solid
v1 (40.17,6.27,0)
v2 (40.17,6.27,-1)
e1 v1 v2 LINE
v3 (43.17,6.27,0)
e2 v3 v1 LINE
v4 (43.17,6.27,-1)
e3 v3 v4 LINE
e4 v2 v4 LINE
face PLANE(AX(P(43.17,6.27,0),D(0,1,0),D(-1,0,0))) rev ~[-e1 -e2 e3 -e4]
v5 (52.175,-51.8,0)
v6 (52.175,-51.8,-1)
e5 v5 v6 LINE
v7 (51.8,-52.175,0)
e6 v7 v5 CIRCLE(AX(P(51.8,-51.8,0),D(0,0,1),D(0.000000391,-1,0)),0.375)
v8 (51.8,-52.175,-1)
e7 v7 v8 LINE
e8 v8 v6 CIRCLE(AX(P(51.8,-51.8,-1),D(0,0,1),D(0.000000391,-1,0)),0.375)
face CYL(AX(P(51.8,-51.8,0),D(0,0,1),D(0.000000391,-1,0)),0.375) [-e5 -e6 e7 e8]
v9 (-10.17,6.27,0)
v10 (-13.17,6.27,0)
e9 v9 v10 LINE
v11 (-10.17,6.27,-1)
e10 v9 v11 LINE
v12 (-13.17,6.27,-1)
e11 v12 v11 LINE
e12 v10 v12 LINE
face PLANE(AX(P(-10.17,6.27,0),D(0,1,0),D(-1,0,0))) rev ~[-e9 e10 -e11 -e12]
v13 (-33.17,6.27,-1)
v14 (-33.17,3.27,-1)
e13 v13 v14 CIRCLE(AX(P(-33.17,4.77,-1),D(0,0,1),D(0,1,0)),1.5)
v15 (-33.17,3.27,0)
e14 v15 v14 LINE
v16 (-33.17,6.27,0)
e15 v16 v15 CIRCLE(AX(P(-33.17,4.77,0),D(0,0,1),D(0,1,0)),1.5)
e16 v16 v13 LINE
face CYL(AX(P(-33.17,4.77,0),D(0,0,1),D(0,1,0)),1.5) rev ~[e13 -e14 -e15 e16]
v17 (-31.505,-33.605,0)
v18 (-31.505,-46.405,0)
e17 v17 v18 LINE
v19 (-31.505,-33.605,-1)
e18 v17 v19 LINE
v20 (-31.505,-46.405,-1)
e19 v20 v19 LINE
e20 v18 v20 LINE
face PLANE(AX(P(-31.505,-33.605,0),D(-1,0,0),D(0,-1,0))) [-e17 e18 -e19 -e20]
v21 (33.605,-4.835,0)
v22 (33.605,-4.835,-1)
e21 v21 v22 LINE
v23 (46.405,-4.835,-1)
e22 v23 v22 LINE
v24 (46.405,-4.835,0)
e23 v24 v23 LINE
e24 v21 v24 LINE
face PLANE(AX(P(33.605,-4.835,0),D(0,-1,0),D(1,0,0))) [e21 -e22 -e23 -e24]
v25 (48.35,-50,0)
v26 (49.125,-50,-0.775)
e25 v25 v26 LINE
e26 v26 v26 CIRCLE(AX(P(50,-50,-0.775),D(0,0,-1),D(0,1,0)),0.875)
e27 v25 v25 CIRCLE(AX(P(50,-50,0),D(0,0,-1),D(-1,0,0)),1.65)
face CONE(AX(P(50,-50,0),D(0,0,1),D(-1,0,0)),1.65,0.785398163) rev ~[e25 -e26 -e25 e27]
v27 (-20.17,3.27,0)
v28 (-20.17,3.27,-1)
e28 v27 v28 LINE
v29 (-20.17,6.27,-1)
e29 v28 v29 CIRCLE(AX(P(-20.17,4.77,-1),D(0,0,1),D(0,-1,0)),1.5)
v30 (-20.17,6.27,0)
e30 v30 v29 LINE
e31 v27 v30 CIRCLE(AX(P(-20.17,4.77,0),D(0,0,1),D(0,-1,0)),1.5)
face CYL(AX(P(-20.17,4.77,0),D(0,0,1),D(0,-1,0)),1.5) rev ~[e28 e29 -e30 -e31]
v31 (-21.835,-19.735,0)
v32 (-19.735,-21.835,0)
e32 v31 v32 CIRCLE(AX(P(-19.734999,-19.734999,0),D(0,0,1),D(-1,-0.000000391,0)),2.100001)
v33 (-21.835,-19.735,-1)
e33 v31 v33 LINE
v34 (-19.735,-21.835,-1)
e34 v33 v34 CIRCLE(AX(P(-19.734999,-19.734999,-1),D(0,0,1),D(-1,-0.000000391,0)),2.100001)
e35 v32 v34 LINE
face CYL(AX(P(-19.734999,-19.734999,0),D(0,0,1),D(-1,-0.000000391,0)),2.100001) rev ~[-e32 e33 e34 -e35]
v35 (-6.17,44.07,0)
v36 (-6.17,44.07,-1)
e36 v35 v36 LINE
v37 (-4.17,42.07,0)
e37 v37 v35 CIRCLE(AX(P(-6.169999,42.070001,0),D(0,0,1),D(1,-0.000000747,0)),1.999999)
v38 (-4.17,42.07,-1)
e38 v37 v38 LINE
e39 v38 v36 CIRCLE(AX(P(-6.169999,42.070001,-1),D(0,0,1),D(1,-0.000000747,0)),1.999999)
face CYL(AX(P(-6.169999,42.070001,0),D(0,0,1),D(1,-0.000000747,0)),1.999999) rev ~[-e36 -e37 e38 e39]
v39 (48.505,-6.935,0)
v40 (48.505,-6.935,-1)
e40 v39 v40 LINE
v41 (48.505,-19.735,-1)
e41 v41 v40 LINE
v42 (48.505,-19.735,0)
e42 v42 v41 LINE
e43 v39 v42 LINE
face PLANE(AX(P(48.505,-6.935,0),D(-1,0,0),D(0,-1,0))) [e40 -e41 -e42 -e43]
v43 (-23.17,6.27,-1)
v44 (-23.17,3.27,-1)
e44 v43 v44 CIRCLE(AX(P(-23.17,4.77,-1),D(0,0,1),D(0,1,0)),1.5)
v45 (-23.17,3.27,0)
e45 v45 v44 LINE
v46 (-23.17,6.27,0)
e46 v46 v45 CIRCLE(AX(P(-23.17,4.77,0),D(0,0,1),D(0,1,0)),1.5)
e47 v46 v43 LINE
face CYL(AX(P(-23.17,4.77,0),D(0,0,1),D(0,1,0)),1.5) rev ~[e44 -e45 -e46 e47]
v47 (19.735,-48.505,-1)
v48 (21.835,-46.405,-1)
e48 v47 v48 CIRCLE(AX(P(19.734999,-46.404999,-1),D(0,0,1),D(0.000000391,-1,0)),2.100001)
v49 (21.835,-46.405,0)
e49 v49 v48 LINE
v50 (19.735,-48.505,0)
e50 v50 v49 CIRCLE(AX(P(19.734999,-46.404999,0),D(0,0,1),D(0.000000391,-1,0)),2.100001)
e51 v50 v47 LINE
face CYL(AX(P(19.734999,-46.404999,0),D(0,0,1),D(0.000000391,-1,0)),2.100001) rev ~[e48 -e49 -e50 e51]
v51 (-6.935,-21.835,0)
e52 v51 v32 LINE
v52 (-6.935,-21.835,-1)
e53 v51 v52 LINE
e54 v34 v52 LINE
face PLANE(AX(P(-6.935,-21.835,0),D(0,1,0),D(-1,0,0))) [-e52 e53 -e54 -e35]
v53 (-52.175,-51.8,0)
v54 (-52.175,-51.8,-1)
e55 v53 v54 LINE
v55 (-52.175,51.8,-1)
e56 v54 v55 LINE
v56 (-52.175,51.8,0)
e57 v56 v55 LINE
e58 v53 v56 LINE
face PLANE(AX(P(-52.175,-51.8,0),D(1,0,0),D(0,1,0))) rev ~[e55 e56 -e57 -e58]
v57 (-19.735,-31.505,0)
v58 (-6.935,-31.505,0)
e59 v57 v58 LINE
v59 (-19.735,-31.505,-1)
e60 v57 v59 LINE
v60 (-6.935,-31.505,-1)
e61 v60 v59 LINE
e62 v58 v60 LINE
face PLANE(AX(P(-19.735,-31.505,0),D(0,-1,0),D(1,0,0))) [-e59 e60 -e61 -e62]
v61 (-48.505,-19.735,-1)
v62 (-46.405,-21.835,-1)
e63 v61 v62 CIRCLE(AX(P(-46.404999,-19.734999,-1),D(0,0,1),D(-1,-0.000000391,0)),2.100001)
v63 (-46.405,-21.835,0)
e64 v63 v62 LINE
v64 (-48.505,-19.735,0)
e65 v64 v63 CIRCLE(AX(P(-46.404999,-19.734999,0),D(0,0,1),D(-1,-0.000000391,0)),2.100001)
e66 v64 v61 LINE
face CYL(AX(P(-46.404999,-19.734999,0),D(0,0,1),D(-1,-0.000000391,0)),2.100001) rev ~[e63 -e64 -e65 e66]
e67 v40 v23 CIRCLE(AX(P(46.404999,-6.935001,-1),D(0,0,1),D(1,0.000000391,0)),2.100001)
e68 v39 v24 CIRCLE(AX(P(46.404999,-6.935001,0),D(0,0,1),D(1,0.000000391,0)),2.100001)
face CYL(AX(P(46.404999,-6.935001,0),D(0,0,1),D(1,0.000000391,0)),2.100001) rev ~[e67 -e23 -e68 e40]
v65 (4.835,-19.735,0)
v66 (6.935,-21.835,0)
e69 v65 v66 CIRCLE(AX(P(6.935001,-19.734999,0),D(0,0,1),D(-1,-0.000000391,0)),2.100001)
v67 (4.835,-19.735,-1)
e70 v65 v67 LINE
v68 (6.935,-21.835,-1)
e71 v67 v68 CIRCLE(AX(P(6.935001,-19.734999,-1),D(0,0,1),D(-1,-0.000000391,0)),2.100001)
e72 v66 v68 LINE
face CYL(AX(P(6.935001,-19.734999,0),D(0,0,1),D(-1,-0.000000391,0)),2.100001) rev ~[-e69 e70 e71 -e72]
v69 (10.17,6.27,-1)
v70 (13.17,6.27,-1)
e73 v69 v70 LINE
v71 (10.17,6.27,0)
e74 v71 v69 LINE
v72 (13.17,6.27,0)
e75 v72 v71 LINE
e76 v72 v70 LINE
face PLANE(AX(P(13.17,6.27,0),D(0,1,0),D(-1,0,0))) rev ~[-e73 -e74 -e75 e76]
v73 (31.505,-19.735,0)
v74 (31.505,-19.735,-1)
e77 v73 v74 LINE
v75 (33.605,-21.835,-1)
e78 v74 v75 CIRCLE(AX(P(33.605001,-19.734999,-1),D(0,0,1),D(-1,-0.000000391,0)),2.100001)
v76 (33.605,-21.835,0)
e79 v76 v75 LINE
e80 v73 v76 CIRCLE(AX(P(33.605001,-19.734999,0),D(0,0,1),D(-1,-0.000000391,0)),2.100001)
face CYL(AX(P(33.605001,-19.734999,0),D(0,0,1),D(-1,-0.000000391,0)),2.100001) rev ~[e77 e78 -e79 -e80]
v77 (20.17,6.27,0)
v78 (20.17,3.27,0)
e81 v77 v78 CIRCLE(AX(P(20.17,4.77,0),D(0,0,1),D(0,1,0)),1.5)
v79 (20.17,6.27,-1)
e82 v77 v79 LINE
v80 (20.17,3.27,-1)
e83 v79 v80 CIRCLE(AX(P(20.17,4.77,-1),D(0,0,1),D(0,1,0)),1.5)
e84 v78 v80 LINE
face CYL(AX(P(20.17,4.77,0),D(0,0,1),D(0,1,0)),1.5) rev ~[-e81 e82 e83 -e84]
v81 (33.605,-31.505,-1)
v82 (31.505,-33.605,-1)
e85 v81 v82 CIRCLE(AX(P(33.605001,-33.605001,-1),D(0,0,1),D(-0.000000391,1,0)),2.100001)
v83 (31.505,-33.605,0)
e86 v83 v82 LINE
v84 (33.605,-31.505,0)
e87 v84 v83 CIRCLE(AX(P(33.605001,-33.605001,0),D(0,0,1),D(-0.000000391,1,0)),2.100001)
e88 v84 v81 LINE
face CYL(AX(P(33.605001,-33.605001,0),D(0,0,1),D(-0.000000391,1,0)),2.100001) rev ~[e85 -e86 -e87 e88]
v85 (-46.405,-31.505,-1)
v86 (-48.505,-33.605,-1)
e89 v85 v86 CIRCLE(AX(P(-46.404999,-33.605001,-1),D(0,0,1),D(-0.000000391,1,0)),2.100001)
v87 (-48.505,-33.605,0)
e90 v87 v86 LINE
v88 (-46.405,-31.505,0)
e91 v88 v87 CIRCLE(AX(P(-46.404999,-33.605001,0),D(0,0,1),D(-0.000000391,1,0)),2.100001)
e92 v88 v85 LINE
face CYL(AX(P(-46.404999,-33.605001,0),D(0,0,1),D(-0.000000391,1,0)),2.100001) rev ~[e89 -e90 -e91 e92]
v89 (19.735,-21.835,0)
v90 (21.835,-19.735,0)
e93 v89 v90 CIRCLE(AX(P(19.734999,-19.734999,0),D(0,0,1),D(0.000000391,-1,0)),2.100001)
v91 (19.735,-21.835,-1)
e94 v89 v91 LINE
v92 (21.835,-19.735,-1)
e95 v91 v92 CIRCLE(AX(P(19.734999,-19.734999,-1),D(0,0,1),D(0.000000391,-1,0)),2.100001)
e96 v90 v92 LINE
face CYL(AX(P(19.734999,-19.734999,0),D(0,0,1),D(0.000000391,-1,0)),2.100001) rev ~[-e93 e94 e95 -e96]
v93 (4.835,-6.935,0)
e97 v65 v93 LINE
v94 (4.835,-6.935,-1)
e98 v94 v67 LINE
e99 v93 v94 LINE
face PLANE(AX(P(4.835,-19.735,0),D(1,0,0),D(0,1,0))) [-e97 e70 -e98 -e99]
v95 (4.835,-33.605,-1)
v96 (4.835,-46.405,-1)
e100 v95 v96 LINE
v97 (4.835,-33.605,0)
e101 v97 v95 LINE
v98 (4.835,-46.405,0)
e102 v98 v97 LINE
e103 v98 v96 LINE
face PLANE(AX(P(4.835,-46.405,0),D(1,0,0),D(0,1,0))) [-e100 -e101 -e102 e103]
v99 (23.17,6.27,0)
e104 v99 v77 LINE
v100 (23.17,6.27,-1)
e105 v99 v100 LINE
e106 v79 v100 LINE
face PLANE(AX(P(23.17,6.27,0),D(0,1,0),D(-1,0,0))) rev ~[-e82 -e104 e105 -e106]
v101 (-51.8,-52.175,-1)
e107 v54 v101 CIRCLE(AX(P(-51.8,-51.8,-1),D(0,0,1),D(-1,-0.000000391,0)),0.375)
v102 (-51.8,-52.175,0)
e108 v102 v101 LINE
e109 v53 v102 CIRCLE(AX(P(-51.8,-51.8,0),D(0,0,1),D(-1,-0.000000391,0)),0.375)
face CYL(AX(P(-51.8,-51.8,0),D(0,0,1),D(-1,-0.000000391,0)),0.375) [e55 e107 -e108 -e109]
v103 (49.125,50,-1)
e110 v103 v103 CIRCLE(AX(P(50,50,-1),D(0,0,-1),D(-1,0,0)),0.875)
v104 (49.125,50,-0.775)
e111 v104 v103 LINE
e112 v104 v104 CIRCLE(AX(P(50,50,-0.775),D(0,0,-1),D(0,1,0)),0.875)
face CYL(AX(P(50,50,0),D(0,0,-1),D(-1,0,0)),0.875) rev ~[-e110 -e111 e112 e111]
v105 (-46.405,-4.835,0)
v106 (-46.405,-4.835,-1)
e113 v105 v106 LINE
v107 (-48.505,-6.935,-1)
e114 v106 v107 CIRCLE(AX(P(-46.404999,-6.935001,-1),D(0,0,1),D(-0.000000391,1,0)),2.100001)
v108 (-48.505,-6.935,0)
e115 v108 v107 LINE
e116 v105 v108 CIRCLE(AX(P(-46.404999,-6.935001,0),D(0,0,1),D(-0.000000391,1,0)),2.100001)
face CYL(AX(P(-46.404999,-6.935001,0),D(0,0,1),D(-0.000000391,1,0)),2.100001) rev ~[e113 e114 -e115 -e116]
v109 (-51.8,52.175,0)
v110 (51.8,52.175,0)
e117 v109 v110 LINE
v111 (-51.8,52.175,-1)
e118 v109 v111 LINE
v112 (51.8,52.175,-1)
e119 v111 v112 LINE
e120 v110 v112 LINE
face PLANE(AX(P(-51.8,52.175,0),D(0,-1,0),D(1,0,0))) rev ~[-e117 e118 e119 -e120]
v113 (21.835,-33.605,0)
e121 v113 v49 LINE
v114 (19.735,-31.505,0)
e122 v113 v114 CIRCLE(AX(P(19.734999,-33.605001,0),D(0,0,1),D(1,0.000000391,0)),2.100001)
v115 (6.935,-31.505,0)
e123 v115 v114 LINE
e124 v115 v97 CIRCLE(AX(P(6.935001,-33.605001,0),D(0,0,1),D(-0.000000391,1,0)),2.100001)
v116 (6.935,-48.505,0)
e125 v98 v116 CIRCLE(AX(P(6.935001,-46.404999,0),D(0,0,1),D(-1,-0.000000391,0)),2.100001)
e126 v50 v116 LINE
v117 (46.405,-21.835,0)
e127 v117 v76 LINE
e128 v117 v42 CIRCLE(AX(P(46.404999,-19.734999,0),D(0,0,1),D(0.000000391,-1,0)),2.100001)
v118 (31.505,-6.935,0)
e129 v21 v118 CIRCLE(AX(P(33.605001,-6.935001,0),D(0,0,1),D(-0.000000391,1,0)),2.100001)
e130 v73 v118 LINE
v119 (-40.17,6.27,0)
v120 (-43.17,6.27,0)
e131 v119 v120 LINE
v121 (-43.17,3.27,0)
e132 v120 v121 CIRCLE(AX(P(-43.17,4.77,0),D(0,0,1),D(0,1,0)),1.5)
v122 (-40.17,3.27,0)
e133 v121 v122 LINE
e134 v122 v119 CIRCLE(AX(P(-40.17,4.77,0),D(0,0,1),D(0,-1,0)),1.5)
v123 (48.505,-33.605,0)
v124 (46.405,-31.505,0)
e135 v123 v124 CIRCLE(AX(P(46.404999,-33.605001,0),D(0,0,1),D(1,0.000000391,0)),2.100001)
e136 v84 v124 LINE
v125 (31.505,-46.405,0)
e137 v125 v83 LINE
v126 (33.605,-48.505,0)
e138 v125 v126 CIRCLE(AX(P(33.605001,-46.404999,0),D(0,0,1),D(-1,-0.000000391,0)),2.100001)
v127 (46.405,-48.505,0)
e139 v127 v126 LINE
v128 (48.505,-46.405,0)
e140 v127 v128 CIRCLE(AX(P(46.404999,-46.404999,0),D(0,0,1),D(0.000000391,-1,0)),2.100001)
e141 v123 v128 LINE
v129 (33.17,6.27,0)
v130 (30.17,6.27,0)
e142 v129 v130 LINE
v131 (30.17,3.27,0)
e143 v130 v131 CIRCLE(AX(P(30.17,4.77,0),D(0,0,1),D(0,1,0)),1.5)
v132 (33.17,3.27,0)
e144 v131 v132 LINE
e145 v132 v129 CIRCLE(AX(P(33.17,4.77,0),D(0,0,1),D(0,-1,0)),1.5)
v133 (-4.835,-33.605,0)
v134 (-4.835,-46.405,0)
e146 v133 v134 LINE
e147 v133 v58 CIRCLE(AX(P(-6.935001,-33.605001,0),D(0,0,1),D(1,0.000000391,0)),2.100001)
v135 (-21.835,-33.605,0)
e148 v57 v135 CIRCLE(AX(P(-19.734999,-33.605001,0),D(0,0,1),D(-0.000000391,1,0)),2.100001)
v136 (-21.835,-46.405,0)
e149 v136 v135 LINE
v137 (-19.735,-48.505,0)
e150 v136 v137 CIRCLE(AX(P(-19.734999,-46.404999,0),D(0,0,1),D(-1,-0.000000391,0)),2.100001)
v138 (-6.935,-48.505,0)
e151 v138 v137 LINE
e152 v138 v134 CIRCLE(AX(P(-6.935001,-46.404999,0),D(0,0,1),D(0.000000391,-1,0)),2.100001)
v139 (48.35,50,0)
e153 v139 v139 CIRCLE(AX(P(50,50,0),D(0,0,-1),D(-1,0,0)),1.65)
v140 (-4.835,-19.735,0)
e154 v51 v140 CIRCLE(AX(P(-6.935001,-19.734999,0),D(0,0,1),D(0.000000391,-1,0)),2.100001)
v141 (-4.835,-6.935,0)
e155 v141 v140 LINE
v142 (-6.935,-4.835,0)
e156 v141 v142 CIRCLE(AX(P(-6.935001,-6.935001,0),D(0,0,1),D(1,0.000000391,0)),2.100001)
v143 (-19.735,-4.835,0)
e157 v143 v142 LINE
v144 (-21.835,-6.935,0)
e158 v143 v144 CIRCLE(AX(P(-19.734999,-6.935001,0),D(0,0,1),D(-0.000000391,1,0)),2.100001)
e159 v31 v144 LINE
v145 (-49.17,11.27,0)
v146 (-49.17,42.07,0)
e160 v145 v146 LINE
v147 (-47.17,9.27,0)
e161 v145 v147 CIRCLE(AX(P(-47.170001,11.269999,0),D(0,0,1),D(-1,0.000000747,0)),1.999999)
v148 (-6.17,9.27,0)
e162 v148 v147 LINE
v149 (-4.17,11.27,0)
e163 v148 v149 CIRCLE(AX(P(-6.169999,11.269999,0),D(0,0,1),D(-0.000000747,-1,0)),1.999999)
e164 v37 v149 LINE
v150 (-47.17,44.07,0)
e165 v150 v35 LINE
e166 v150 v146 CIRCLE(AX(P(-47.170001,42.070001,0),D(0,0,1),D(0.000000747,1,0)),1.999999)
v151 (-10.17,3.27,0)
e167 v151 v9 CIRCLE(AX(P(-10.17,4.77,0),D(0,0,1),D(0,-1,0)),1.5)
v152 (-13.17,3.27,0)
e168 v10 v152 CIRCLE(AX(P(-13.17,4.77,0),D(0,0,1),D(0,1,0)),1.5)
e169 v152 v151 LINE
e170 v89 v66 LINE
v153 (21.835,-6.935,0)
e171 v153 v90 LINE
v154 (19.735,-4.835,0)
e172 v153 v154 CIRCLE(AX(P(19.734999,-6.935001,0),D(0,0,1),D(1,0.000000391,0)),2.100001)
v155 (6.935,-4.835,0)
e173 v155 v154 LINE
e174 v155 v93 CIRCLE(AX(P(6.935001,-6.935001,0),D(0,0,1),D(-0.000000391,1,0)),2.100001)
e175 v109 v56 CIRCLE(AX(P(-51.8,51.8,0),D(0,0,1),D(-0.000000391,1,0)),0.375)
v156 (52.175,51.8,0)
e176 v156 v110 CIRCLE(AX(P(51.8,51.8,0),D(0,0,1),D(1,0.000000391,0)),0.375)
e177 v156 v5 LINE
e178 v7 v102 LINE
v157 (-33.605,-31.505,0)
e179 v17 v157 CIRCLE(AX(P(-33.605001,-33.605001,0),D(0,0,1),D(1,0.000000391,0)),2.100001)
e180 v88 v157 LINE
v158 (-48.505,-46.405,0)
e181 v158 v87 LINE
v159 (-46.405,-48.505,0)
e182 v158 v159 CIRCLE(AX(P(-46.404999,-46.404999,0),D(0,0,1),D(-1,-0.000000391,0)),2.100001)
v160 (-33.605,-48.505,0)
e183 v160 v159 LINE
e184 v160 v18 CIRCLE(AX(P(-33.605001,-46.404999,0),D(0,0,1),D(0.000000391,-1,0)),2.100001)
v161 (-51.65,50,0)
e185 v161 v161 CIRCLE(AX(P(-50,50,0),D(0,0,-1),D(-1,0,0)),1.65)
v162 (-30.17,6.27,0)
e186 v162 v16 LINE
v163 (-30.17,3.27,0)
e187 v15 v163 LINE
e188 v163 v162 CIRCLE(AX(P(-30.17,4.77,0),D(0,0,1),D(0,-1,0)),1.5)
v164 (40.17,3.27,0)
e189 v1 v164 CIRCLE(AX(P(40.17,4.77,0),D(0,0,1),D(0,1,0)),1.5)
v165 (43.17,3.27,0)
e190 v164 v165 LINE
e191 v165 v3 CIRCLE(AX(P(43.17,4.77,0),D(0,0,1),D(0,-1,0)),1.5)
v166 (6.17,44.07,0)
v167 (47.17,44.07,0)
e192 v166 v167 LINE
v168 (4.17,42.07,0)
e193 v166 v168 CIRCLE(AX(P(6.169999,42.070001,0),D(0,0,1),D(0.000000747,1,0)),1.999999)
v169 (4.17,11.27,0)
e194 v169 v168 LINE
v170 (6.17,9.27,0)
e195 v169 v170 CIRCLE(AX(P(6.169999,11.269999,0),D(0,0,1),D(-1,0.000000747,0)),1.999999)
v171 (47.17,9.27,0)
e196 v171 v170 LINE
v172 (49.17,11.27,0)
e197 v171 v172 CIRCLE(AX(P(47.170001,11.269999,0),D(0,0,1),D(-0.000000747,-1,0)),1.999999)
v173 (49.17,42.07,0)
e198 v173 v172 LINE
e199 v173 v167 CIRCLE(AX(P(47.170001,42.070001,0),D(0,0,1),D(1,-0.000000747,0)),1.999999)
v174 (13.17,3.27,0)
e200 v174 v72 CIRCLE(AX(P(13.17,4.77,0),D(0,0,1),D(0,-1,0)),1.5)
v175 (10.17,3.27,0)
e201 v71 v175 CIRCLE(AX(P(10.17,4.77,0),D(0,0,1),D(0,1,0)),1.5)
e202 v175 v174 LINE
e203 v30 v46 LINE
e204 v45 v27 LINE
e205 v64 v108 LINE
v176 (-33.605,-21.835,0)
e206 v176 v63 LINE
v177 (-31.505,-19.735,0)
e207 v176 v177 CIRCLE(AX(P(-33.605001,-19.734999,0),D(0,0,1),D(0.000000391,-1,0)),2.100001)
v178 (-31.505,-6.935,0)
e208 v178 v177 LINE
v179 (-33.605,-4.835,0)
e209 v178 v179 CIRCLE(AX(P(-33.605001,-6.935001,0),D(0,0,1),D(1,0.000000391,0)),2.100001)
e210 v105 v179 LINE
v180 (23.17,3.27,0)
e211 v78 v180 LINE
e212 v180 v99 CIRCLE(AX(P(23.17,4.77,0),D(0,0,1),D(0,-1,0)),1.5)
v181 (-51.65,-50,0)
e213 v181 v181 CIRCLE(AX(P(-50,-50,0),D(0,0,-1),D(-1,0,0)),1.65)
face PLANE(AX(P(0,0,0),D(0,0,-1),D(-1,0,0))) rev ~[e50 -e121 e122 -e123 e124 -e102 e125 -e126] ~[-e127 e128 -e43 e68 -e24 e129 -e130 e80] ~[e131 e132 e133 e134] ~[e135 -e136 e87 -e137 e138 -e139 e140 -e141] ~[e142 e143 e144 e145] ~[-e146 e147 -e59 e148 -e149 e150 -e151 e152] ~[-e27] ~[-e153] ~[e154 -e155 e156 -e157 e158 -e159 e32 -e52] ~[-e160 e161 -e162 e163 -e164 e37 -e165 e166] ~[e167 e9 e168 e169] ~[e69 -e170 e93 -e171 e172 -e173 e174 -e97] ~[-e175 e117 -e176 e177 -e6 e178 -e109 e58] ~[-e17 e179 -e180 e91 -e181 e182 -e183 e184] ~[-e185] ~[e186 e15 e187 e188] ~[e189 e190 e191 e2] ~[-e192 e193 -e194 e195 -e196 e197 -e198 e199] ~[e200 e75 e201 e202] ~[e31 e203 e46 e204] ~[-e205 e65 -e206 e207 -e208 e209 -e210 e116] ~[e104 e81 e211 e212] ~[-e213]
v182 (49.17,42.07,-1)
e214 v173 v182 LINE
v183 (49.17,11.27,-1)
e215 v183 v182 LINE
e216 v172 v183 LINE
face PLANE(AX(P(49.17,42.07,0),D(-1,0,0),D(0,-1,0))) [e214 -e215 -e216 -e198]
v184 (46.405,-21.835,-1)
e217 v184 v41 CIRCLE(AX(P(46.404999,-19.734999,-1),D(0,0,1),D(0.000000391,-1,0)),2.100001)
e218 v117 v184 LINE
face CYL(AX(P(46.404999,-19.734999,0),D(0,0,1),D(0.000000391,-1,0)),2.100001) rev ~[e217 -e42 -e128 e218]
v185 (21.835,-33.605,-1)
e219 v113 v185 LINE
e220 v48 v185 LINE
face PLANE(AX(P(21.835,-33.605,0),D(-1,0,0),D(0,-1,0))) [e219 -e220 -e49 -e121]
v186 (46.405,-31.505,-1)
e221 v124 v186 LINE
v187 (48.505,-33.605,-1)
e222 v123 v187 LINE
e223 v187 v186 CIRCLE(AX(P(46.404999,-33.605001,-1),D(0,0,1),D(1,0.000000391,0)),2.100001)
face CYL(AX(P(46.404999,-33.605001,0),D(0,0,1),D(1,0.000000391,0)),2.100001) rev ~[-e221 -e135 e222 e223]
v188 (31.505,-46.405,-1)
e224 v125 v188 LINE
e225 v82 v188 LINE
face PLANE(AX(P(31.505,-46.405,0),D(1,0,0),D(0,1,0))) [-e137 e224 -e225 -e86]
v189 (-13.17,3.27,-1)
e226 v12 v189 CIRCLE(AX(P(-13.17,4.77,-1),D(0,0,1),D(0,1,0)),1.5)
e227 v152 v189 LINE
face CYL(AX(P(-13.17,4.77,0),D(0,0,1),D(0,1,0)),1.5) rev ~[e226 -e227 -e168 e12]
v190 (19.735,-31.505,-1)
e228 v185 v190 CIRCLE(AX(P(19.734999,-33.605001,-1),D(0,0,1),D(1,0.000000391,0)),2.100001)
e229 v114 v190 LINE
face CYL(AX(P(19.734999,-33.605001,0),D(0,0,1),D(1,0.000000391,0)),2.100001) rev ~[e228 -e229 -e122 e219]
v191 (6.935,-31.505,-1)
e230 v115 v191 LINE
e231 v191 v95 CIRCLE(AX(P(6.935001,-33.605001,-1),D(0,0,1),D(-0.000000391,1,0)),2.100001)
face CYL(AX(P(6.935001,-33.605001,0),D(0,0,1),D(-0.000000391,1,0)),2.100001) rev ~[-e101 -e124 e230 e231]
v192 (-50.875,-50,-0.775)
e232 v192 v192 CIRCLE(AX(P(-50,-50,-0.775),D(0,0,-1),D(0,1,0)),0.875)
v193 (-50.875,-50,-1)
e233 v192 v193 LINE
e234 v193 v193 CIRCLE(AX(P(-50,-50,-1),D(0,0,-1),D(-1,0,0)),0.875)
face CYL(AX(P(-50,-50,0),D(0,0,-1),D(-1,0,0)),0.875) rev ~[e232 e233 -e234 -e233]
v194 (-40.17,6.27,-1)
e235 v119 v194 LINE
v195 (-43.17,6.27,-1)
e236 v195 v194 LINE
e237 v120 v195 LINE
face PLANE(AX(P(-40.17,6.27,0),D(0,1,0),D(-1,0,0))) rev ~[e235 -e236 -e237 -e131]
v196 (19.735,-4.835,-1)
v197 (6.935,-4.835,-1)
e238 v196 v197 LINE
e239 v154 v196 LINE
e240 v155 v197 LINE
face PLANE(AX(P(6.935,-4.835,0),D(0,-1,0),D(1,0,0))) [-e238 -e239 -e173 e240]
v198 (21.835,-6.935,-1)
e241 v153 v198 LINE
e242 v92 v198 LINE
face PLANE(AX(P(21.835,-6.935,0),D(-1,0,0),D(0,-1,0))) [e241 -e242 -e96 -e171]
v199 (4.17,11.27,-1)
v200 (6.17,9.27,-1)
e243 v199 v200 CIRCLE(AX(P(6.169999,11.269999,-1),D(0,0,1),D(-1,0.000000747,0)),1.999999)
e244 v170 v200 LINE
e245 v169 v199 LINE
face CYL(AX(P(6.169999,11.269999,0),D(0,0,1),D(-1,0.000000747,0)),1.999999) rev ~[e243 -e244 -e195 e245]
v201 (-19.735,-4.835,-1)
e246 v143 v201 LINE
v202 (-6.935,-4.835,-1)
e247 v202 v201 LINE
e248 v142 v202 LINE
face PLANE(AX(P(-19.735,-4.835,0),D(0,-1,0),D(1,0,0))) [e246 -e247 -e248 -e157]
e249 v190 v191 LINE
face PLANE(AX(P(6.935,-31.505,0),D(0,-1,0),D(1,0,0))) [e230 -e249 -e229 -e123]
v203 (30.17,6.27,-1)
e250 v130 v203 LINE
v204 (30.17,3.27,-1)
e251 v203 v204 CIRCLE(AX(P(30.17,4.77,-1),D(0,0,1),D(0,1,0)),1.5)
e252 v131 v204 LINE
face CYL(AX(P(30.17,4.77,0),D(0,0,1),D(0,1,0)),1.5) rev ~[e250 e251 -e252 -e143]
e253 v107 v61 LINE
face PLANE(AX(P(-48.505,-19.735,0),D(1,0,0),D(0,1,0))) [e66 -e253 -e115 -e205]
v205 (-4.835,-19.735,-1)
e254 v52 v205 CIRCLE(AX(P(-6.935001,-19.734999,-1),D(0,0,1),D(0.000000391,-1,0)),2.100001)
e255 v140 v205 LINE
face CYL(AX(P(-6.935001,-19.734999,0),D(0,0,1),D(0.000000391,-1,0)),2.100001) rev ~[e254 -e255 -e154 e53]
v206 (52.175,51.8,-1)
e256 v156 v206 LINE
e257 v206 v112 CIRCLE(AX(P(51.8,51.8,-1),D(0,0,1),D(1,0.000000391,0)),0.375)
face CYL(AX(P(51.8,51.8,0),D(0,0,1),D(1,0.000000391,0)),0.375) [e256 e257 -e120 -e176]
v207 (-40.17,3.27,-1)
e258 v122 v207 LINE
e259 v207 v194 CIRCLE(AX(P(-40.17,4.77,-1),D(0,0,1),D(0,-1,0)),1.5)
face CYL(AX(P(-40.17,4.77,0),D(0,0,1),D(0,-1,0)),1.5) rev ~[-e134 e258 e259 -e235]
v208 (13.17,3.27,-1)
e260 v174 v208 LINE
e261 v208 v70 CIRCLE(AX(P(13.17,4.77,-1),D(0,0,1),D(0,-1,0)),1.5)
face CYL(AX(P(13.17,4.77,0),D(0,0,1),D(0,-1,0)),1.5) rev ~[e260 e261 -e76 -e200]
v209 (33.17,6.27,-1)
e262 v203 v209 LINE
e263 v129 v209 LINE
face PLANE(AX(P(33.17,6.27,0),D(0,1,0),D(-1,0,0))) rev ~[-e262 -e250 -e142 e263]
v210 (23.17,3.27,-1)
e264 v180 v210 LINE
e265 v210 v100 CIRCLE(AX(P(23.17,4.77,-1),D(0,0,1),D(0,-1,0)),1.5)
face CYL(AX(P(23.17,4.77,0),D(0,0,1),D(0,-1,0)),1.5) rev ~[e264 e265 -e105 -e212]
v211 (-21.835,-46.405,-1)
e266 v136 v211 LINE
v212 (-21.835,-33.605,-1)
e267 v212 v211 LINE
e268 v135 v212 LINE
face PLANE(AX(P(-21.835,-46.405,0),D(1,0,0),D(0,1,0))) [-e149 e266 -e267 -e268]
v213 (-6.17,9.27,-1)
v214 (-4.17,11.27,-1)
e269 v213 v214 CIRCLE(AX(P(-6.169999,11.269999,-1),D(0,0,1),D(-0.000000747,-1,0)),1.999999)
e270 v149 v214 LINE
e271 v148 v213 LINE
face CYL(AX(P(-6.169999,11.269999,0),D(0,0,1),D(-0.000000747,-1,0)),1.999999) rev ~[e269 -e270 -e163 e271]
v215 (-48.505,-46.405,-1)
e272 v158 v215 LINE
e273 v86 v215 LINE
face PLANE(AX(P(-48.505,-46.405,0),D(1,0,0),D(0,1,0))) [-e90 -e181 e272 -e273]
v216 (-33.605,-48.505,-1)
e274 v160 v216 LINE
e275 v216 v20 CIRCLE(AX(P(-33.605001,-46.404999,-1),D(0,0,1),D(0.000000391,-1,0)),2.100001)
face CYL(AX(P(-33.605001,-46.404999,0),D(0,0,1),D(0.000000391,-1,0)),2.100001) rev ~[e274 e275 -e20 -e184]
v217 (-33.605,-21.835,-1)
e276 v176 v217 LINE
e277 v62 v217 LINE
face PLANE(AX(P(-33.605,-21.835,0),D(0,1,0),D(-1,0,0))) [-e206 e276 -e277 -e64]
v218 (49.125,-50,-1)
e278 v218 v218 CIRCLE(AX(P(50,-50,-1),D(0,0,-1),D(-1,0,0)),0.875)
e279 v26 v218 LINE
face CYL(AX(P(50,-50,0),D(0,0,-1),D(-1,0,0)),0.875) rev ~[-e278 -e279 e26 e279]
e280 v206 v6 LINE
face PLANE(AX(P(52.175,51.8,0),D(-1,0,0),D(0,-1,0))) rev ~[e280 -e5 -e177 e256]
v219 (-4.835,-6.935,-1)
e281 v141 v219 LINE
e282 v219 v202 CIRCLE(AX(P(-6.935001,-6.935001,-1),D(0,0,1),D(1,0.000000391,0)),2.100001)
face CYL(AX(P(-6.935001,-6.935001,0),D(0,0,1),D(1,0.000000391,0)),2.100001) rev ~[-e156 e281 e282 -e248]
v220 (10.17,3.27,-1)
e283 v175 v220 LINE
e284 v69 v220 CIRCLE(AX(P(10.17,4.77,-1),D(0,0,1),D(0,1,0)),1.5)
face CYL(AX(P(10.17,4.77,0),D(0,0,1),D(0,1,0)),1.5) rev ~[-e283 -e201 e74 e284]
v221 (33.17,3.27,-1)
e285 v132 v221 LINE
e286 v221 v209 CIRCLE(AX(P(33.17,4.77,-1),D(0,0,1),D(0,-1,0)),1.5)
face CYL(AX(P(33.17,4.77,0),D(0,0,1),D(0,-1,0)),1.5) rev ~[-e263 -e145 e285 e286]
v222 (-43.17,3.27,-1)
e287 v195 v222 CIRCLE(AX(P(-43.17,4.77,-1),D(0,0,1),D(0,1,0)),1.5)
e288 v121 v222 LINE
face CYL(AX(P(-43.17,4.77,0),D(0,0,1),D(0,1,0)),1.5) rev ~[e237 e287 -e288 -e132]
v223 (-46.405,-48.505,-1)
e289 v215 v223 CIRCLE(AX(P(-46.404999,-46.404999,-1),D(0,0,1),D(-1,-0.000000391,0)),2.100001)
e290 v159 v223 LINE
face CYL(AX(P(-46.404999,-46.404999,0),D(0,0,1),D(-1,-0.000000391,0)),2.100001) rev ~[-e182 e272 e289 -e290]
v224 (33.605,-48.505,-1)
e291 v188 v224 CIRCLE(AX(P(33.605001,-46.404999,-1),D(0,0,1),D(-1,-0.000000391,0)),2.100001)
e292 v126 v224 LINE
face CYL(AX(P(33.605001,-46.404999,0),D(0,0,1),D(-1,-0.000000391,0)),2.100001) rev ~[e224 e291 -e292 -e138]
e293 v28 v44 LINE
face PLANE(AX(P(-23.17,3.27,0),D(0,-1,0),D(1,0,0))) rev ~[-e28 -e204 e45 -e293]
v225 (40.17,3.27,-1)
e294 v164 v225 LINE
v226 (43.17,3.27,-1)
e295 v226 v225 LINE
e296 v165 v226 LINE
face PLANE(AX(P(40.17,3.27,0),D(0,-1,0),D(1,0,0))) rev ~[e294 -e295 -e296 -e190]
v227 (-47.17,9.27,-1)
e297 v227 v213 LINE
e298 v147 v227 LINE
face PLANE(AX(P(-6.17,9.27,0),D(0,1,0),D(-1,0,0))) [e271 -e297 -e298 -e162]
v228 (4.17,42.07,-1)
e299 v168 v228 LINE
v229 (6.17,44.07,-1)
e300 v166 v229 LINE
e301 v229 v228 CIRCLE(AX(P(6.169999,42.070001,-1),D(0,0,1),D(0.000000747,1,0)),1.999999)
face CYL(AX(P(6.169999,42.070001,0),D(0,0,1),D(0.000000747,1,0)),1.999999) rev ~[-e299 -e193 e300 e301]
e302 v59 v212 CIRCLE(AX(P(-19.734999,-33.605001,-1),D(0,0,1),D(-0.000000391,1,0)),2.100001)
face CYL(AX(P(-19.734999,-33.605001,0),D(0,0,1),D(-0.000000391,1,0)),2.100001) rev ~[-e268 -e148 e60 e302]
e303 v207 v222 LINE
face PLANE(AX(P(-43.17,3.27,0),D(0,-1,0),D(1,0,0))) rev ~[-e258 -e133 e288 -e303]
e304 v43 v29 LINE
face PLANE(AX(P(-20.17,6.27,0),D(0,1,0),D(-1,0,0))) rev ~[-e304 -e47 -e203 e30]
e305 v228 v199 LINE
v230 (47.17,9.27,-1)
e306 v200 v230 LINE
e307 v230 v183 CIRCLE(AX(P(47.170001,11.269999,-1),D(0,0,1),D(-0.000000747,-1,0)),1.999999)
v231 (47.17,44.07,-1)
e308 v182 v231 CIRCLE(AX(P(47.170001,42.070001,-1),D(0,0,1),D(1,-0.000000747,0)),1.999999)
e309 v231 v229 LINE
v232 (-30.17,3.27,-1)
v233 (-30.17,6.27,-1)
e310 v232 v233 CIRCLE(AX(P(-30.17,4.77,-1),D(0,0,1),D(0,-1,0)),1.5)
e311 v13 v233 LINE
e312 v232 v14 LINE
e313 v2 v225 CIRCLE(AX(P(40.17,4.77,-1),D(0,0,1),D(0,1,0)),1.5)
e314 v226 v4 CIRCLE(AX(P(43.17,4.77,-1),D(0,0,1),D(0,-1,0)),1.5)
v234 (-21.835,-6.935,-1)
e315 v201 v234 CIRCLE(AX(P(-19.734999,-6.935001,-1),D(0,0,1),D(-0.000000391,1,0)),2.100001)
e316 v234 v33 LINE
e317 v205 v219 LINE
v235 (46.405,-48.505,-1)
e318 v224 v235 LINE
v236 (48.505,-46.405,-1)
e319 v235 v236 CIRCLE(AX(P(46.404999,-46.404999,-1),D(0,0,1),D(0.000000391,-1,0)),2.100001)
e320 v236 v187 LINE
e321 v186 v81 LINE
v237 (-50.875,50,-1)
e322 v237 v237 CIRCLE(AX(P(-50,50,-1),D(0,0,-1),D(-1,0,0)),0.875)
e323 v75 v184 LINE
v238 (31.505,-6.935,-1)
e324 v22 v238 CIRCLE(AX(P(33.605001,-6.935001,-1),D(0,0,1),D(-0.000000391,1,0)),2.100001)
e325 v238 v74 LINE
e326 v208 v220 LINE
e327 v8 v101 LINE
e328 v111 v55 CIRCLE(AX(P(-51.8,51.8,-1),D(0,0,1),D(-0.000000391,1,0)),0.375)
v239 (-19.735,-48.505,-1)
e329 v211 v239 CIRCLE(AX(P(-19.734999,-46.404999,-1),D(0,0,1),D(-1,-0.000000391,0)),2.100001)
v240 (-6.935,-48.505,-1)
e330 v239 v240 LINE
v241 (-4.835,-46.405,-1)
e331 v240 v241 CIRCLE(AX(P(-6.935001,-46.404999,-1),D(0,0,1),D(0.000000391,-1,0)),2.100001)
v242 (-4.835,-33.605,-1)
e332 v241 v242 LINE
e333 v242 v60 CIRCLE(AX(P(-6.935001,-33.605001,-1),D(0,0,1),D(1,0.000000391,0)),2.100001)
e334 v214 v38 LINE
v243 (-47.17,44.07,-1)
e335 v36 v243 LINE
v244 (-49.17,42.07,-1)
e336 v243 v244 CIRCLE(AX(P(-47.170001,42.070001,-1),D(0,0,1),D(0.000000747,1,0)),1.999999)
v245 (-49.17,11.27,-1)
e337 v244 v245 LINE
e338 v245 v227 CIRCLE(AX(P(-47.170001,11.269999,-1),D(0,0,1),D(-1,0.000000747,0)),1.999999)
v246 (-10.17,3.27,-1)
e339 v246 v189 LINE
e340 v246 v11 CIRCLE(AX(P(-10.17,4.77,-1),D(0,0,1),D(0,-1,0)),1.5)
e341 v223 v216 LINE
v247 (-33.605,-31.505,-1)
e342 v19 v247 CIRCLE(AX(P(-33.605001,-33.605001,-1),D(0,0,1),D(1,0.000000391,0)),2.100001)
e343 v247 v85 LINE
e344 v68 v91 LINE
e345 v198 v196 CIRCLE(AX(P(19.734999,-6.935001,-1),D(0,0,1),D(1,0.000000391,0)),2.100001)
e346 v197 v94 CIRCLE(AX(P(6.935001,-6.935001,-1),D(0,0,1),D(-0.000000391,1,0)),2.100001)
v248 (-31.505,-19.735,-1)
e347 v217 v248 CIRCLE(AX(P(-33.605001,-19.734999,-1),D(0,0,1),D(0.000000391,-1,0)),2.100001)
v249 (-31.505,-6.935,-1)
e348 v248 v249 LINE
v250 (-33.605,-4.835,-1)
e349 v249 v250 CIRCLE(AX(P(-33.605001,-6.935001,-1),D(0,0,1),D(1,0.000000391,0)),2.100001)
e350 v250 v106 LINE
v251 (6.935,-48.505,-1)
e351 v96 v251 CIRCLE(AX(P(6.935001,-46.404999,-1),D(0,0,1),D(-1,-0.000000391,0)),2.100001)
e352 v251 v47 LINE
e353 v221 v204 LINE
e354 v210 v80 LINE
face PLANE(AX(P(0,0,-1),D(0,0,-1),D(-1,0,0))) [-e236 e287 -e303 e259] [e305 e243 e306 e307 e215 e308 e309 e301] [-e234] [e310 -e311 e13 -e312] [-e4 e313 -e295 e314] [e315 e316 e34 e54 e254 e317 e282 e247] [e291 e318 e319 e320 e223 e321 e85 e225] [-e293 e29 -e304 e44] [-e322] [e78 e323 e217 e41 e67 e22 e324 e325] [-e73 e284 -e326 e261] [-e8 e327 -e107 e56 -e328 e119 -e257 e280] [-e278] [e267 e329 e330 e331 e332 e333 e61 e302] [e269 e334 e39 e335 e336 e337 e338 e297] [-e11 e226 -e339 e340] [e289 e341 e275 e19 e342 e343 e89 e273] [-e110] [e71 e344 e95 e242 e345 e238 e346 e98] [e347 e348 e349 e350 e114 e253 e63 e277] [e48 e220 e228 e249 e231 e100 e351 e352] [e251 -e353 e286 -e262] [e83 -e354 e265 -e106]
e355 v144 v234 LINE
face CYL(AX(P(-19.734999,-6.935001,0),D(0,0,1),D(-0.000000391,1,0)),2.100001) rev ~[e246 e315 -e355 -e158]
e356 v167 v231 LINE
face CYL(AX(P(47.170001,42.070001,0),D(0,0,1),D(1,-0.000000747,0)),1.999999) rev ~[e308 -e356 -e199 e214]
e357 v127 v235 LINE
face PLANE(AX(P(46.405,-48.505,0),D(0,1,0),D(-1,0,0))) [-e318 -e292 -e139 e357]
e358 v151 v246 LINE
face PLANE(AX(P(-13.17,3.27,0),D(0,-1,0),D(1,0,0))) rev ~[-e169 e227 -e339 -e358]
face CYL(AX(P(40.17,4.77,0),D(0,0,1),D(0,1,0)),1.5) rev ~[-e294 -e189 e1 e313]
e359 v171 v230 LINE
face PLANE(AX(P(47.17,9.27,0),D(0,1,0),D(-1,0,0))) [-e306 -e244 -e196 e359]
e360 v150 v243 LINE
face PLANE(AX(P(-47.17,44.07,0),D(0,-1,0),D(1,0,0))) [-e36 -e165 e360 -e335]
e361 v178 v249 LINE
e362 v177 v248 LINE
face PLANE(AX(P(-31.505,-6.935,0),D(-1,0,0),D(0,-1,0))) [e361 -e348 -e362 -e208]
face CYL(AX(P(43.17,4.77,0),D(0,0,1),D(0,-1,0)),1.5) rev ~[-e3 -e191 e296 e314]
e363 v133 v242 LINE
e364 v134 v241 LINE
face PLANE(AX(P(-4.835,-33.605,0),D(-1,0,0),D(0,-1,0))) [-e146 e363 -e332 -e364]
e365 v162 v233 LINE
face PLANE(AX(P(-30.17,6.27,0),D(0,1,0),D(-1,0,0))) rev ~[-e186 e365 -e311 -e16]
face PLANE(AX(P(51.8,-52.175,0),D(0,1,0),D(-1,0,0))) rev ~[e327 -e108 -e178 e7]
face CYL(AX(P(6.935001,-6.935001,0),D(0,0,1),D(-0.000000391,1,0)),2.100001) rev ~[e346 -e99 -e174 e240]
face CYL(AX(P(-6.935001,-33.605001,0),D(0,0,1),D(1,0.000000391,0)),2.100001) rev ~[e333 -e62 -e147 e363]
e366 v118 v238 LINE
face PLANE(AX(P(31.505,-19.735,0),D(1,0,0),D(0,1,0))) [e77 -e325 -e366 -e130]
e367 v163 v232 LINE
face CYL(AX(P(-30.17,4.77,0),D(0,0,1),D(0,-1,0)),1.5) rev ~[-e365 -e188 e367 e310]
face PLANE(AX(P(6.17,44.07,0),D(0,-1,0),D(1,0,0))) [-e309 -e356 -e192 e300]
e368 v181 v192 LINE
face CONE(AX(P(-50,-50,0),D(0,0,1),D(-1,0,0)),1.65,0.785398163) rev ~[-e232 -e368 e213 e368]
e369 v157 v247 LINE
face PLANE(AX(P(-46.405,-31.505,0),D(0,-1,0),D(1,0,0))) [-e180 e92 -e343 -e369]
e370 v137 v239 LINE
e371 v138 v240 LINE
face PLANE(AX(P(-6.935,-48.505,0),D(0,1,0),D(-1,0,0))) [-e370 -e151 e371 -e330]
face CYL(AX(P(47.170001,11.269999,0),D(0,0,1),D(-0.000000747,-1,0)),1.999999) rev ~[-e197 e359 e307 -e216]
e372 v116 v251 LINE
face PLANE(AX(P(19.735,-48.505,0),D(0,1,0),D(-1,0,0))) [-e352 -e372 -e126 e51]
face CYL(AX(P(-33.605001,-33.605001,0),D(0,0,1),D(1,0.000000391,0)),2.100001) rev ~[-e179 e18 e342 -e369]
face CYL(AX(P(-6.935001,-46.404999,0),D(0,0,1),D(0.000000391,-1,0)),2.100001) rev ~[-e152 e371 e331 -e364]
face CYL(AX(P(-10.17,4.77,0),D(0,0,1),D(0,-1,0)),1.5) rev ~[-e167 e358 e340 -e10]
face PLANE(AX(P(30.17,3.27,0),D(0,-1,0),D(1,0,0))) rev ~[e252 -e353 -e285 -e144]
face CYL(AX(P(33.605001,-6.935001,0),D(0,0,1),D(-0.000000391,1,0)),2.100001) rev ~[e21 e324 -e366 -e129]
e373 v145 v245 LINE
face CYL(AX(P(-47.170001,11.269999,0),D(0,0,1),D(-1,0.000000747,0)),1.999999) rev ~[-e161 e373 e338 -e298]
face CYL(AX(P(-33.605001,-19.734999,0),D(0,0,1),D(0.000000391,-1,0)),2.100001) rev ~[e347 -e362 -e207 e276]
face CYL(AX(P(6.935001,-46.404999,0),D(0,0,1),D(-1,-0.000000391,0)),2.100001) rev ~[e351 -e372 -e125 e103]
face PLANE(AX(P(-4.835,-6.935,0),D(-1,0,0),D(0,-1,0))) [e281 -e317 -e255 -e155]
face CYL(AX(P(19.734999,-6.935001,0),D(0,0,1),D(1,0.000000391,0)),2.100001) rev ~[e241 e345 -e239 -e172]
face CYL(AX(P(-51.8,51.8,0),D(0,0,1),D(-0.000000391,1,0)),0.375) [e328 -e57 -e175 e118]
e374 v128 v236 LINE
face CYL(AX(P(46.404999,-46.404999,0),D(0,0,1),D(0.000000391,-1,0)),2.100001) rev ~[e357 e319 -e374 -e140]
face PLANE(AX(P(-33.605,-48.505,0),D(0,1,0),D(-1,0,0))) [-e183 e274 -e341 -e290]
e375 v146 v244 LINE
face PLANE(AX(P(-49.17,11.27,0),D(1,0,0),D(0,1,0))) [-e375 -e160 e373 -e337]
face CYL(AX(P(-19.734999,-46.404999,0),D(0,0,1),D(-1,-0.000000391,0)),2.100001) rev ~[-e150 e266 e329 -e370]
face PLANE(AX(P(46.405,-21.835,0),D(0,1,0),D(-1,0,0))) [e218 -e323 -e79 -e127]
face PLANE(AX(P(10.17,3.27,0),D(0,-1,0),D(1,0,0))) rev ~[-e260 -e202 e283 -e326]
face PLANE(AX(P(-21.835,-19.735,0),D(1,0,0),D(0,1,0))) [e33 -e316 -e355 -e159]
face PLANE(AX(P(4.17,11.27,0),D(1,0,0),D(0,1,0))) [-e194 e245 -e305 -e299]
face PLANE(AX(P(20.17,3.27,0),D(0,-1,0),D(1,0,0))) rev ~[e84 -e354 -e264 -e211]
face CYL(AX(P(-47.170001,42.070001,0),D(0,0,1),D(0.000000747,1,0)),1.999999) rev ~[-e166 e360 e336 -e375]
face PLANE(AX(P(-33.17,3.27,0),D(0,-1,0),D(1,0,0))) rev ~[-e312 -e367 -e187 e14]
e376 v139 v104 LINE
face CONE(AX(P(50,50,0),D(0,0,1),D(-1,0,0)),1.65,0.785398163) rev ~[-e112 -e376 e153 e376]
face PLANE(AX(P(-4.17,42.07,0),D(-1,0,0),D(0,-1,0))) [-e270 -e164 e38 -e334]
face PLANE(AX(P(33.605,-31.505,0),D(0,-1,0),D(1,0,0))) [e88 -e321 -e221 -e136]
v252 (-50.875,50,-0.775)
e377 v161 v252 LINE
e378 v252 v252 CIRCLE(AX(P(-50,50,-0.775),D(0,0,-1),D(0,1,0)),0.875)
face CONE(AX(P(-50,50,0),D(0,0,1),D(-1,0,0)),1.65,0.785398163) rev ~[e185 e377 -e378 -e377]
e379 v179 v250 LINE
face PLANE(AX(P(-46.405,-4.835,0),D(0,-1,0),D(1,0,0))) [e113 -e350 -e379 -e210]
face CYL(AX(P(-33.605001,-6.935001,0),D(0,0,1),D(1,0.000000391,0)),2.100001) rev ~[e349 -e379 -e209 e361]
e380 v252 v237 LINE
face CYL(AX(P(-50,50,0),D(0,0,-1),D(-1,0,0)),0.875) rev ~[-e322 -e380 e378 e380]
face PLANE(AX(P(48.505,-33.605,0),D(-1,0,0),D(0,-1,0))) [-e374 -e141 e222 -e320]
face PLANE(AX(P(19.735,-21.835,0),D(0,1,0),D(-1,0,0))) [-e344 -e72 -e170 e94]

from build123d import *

# Parameters (mm, degrees)
PAD_DEPTH        = 1
POCKET_DEPTH     = 0.001
HOLE_D           = 1.75
HOLE_CSINK_D     = 3.3
HOLE_CSINK_ANGLE = 90
POCKET008_DEPTH  = 1.001
POCKET010_DEPTH  = 5
POCKET011_DEPTH  = 1.001


with BuildPart() as part:
    # Sketch → Pad (new body)
    with BuildSketch(Plane.XY):
        with BuildLine():
            Line((-51.8, 52.175), (51.8, 52.175))
            ThreePointArc((52.175, 51.8), (52.065165, 52.065165), (51.8, 52.175))
            Line((52.175, 51.8), (52.175, -51.8))
            ThreePointArc((51.8, -52.175), (52.065165, -52.065165), (52.175, -51.8))
            Line((51.8, -52.175), (-51.8, -52.175))
            ThreePointArc((-52.175, -51.8), (-52.065165, -52.065165), (-51.8, -52.175))
            Line((-52.175, -51.8), (-52.175, 51.8))
            ThreePointArc((-51.8, 52.175), (-52.065165, 52.065165), (-52.175, 51.8))
        make_face()
    extrude(amount=-PAD_DEPTH)

    # Sketch002 → Pocket (cut, through all)
    with BuildSketch(Plane.XY.offset(-4.8)):
        with BuildLine():
            Line((-45, 50.175), (45, 50.175))
            ThreePointArc((45, 50.175), (45.353553, 50.321447), (45.5, 50.675))
            ThreePointArc((45.5, 50.675), (45.353553, 51.028553), (45, 51.175))
            Line((-45, 51.175), (45, 51.175))
            ThreePointArc((-45, 51.175), (-45.353553, 51.028553), (-45.5, 50.675))
            ThreePointArc((-45.5, 50.675), (-45.353553, 50.321447), (-45, 50.175))
        make_face()
        with BuildLine():
            Line((-45, -51.175), (45, -51.175))
            ThreePointArc((45, -51.175), (45.353553, -51.028553), (45.5, -50.675))
            ThreePointArc((45.5, -50.675), (45.353553, -50.321447), (45, -50.175))
            Line((-45, -50.175), (45, -50.175))
            ThreePointArc((-45, -50.175), (-45.353553, -50.321447), (-45.5, -50.675))
            ThreePointArc((-45.5, -50.675), (-45.353553, -51.028553), (-45, -51.175))
        make_face()
        with BuildLine():
            Line((51.175, -45), (51.175, 45))
            ThreePointArc((51.175, 45), (51.028553, 45.353553), (50.675, 45.5))
            ThreePointArc((50.675, 45.5), (50.321447, 45.353553), (50.175, 45))
            Line((50.175, -45), (50.175, 45))
            ThreePointArc((50.175, -45), (50.321447, -45.353553), (50.675, -45.5))
            ThreePointArc((50.675, -45.5), (51.028553, -45.353553), (51.175, -45))
        make_face()
        with BuildLine():
            Line((-50.175, -45), (-50.175, 45))
            ThreePointArc((-50.175, 45), (-50.321447, 45.353553), (-50.675, 45.5))
            ThreePointArc((-50.675, 45.5), (-51.028553, 45.353553), (-51.175, 45))
            Line((-51.175, -45), (-51.175, 45))
            ThreePointArc((-51.175, -45), (-51.028553, -45.353553), (-50.675, -45.5))
            ThreePointArc((-50.675, -45.5), (-50.321447, -45.353553), (-50.175, -45))
        make_face()
    extrude(amount=-POCKET_DEPTH, mode=Mode.SUBTRACT)

    # Hole (through all)
    with Locations(Plane.XY):
        with Locations((-50, 50), (50, 50), (50, -50), (-50, -50)):
            CounterSinkHole(HOLE_D / 2, HOLE_CSINK_D / 2, counter_sink_angle=HOLE_CSINK_ANGLE)

    # Sketch027 → Pocket008 (cut, through all)
    with BuildSketch(Plane.XY):
        with BuildLine():
            Line((-49.17, 11.27), (-49.17, 42.07))
            ThreePointArc((-47.17, 44.07), (-48.584214, 43.484214), (-49.17, 42.07))
            Line((-47.17, 44.07), (-6.17, 44.07))
            ThreePointArc((-4.17, 42.07), (-4.755786, 43.484214), (-6.17, 44.07))
            Line((-4.17, 42.07), (-4.17, 11.27))
            ThreePointArc((-6.17, 9.27), (-4.755786, 9.855786), (-4.17, 11.27))
            Line((-6.17, 9.27), (-47.17, 9.27))
            ThreePointArc((-49.17, 11.27), (-48.584214, 9.855786), (-47.17, 9.27))
        make_face()
        with BuildLine():
            Line((4.17, 11.27), (4.17, 42.07))
            ThreePointArc((6.17, 44.07), (4.755786, 43.484214), (4.17, 42.07))
            Line((6.17, 44.07), (47.17, 44.07))
            ThreePointArc((49.17, 42.07), (48.584214, 43.484214), (47.17, 44.07))
            Line((49.17, 42.07), (49.17, 11.27))
            ThreePointArc((47.17, 9.27), (48.584214, 9.855786), (49.17, 11.27))
            Line((47.17, 9.27), (6.17, 9.27))
            ThreePointArc((4.17, 11.27), (4.755786, 9.855786), (6.17, 9.27))
        make_face()
    extrude(amount=-POCKET008_DEPTH, mode=Mode.SUBTRACT)

    # Sketch029 → Pocket010 (cut)
    with BuildSketch(Plane.XY):
        with BuildLine():
            ThreePointArc((-33.17, 6.27), (-34.67, 4.77), (-33.17, 3.27))
            Line((-33.17, 3.27), (-30.17, 3.27))
            ThreePointArc((-30.17, 3.27), (-28.67, 4.77), (-30.17, 6.27))
            Line((-30.17, 6.27), (-33.17, 6.27))
        make_face()
        with BuildLine():
            ThreePointArc((-23.17, 6.27), (-24.67, 4.77), (-23.17, 3.27))
            Line((-23.17, 3.27), (-20.17, 3.27))
            ThreePointArc((-20.17, 3.27), (-18.67, 4.77), (-20.17, 6.27))
            Line((-20.17, 6.27), (-23.17, 6.27))
        make_face()
        with BuildLine():
            ThreePointArc((-13.17, 6.27), (-14.67, 4.77), (-13.17, 3.27))
            Line((-13.17, 3.27), (-10.17, 3.27))
            ThreePointArc((-10.17, 3.27), (-8.67, 4.77), (-10.17, 6.27))
            Line((-10.17, 6.27), (-13.17, 6.27))
        make_face()
        with BuildLine():
            ThreePointArc((-43.17, 6.27), (-44.67, 4.77), (-43.17, 3.27))
            Line((-43.17, 3.27), (-40.17, 3.27))
            ThreePointArc((-40.17, 3.27), (-38.67, 4.77), (-40.17, 6.27))
            Line((-40.17, 6.27), (-43.17, 6.27))
        make_face()
        with BuildLine():
            ThreePointArc((10.17, 6.27), (8.67, 4.77), (10.17, 3.27))
            Line((10.17, 3.27), (13.17, 3.27))
            ThreePointArc((13.17, 3.27), (14.67, 4.77), (13.17, 6.27))
            Line((13.17, 6.27), (10.17, 6.27))
        make_face()
        with BuildLine():
            ThreePointArc((20.17, 6.27), (18.67, 4.77), (20.17, 3.27))
            Line((20.17, 3.27), (23.17, 3.27))
            ThreePointArc((23.17, 3.27), (24.67, 4.77), (23.17, 6.27))
            Line((23.17, 6.27), (20.17, 6.27))
        make_face()
        with BuildLine():
            ThreePointArc((30.17, 6.27), (28.67, 4.77), (30.17, 3.27))
            Line((30.17, 3.27), (33.17, 3.27))
            ThreePointArc((33.17, 3.27), (34.67, 4.77), (33.17, 6.27))
            Line((33.17, 6.27), (30.17, 6.27))
        make_face()
        with BuildLine():
            ThreePointArc((40.17, 6.27), (38.67, 4.77), (40.17, 3.27))
            Line((40.17, 3.27), (43.17, 3.27))
            ThreePointArc((43.17, 3.27), (44.67, 4.77), (43.17, 6.27))
            Line((43.17, 6.27), (40.17, 6.27))
        make_face()
    extrude(amount=-POCKET010_DEPTH, mode=Mode.SUBTRACT)

    # Sketch030 → Pocket011 (cut, through all)
    with BuildSketch(Plane.XY):
        with BuildLine():
            Line((-48.505, -19.735), (-48.505, -6.935))
            ThreePointArc((-46.405, -4.835), (-47.889924, -5.450076), (-48.505, -6.935))
            Line((-46.405, -4.835), (-33.605, -4.835))
            ThreePointArc((-31.505, -6.935), (-32.120076, -5.450076), (-33.605, -4.835))
            Line((-31.505, -6.935), (-31.505, -19.735))
            ThreePointArc((-33.605, -21.835), (-32.120076, -21.219924), (-31.505, -19.735))
            Line((-33.605, -21.835), (-46.405, -21.835))
            ThreePointArc((-48.505, -19.735), (-47.889924, -21.219924), (-46.405, -21.835))
        make_face()
        with BuildLine():
            Line((-21.835, -19.735), (-21.835, -6.935))
            ThreePointArc((-19.735, -4.835), (-21.219924, -5.450076), (-21.835, -6.935))
            Line((-19.735, -4.835), (-6.935, -4.835))
            ThreePointArc((-4.835, -6.935), (-5.450076, -5.450076), (-6.935, -4.835))
            Line((-4.835, -6.935), (-4.835, -19.735))
            ThreePointArc((-6.935, -21.835), (-5.450076, -21.219924), (-4.835, -19.735))
            Line((-6.935, -21.835), (-19.735, -21.835))
            ThreePointArc((-21.835, -19.735), (-21.219924, -21.219924), (-19.735, -21.835))
        make_face()
        with BuildLine():
            Line((4.835, -19.735), (4.835, -6.935))
            ThreePointArc((6.935, -4.835), (5.450076, -5.450076), (4.835, -6.935))
            Line((6.935, -4.835), (19.735, -4.835))
            ThreePointArc((21.835, -6.935), (21.219924, -5.450076), (19.735, -4.835))
            Line((21.835, -6.935), (21.835, -19.735))
            ThreePointArc((19.735, -21.835), (21.219924, -21.219924), (21.835, -19.735))
            Line((19.735, -21.835), (6.935, -21.835))
            ThreePointArc((4.835, -19.735), (5.450076, -21.219924), (6.935, -21.835))
        make_face()
        with BuildLine():
            Line((31.505, -19.735), (31.505, -6.935))
            ThreePointArc((33.605, -4.835), (32.120076, -5.450076), (31.505, -6.935))
            Line((33.605, -4.835), (46.405, -4.835))
            ThreePointArc((48.505, -6.935), (47.889924, -5.450076), (46.405, -4.835))
            Line((48.505, -6.935), (48.505, -19.735))
            ThreePointArc((46.405, -21.835), (47.889924, -21.219924), (48.505, -19.735))
            Line((46.405, -21.835), (33.605, -21.835))
            ThreePointArc((31.505, -19.735), (32.120076, -21.219924), (33.605, -21.835))
        make_face()
        with BuildLine():
            Line((31.505, -46.405), (31.505, -33.605))
            ThreePointArc((33.605, -31.505), (32.120076, -32.120076), (31.505, -33.605))
            Line((33.605, -31.505), (46.405, -31.505))
            ThreePointArc((48.505, -33.605), (47.889924, -32.120076), (46.405, -31.505))
            Line((48.505, -33.605), (48.505, -46.405))
            ThreePointArc((46.405, -48.505), (47.889924, -47.889924), (48.505, -46.405))
            Line((46.405, -48.505), (33.605, -48.505))
            ThreePointArc((31.505, -46.405), (32.120076, -47.889924), (33.605, -48.505))
        make_face()
        with BuildLine():
            Line((4.835, -46.405), (4.835, -33.605))
            ThreePointArc((6.935, -31.505), (5.450076, -32.120076), (4.835, -33.605))
            Line((6.935, -31.505), (19.735, -31.505))
            ThreePointArc((21.835, -33.605), (21.219924, -32.120076), (19.735, -31.505))
            Line((21.835, -33.605), (21.835, -46.405))
            ThreePointArc((19.735, -48.505), (21.219924, -47.889924), (21.835, -46.405))
            Line((19.735, -48.505), (6.935, -48.505))
            ThreePointArc((4.835, -46.405), (5.450076, -47.889924), (6.935, -48.505))
        make_face()
        with BuildLine():
            Line((-21.835, -46.405), (-21.835, -33.605))
            ThreePointArc((-19.735, -31.505), (-21.219924, -32.120076), (-21.835, -33.605))
            Line((-19.735, -31.505), (-6.935, -31.505))
            ThreePointArc((-4.835, -33.605), (-5.450076, -32.120076), (-6.935, -31.505))
            Line((-4.835, -33.605), (-4.835, -46.405))
            ThreePointArc((-6.935, -48.505), (-5.450076, -47.889924), (-4.835, -46.405))
            Line((-6.935, -48.505), (-19.735, -48.505))
            ThreePointArc((-21.835, -46.405), (-21.219924, -47.889924), (-19.735, -48.505))
        make_face()
        with BuildLine():
            Line((-48.505, -46.405), (-48.505, -33.605))
            ThreePointArc((-46.405, -31.505), (-47.889924, -32.120076), (-48.505, -33.605))
            Line((-46.405, -31.505), (-33.605, -31.505))
            ThreePointArc((-31.505, -33.605), (-32.120076, -32.120076), (-33.605, -31.505))
            Line((-31.505, -33.605), (-31.505, -46.405))
            ThreePointArc((-33.605, -48.505), (-32.120076, -47.889924), (-31.505, -46.405))
            Line((-33.605, -48.505), (-46.405, -48.505))
            ThreePointArc((-48.505, -46.405), (-47.889924, -47.889924), (-46.405, -48.505))
        make_face()
    extrude(amount=-POCKET011_DEPTH, mode=Mode.SUBTRACT)


solid = part.part
